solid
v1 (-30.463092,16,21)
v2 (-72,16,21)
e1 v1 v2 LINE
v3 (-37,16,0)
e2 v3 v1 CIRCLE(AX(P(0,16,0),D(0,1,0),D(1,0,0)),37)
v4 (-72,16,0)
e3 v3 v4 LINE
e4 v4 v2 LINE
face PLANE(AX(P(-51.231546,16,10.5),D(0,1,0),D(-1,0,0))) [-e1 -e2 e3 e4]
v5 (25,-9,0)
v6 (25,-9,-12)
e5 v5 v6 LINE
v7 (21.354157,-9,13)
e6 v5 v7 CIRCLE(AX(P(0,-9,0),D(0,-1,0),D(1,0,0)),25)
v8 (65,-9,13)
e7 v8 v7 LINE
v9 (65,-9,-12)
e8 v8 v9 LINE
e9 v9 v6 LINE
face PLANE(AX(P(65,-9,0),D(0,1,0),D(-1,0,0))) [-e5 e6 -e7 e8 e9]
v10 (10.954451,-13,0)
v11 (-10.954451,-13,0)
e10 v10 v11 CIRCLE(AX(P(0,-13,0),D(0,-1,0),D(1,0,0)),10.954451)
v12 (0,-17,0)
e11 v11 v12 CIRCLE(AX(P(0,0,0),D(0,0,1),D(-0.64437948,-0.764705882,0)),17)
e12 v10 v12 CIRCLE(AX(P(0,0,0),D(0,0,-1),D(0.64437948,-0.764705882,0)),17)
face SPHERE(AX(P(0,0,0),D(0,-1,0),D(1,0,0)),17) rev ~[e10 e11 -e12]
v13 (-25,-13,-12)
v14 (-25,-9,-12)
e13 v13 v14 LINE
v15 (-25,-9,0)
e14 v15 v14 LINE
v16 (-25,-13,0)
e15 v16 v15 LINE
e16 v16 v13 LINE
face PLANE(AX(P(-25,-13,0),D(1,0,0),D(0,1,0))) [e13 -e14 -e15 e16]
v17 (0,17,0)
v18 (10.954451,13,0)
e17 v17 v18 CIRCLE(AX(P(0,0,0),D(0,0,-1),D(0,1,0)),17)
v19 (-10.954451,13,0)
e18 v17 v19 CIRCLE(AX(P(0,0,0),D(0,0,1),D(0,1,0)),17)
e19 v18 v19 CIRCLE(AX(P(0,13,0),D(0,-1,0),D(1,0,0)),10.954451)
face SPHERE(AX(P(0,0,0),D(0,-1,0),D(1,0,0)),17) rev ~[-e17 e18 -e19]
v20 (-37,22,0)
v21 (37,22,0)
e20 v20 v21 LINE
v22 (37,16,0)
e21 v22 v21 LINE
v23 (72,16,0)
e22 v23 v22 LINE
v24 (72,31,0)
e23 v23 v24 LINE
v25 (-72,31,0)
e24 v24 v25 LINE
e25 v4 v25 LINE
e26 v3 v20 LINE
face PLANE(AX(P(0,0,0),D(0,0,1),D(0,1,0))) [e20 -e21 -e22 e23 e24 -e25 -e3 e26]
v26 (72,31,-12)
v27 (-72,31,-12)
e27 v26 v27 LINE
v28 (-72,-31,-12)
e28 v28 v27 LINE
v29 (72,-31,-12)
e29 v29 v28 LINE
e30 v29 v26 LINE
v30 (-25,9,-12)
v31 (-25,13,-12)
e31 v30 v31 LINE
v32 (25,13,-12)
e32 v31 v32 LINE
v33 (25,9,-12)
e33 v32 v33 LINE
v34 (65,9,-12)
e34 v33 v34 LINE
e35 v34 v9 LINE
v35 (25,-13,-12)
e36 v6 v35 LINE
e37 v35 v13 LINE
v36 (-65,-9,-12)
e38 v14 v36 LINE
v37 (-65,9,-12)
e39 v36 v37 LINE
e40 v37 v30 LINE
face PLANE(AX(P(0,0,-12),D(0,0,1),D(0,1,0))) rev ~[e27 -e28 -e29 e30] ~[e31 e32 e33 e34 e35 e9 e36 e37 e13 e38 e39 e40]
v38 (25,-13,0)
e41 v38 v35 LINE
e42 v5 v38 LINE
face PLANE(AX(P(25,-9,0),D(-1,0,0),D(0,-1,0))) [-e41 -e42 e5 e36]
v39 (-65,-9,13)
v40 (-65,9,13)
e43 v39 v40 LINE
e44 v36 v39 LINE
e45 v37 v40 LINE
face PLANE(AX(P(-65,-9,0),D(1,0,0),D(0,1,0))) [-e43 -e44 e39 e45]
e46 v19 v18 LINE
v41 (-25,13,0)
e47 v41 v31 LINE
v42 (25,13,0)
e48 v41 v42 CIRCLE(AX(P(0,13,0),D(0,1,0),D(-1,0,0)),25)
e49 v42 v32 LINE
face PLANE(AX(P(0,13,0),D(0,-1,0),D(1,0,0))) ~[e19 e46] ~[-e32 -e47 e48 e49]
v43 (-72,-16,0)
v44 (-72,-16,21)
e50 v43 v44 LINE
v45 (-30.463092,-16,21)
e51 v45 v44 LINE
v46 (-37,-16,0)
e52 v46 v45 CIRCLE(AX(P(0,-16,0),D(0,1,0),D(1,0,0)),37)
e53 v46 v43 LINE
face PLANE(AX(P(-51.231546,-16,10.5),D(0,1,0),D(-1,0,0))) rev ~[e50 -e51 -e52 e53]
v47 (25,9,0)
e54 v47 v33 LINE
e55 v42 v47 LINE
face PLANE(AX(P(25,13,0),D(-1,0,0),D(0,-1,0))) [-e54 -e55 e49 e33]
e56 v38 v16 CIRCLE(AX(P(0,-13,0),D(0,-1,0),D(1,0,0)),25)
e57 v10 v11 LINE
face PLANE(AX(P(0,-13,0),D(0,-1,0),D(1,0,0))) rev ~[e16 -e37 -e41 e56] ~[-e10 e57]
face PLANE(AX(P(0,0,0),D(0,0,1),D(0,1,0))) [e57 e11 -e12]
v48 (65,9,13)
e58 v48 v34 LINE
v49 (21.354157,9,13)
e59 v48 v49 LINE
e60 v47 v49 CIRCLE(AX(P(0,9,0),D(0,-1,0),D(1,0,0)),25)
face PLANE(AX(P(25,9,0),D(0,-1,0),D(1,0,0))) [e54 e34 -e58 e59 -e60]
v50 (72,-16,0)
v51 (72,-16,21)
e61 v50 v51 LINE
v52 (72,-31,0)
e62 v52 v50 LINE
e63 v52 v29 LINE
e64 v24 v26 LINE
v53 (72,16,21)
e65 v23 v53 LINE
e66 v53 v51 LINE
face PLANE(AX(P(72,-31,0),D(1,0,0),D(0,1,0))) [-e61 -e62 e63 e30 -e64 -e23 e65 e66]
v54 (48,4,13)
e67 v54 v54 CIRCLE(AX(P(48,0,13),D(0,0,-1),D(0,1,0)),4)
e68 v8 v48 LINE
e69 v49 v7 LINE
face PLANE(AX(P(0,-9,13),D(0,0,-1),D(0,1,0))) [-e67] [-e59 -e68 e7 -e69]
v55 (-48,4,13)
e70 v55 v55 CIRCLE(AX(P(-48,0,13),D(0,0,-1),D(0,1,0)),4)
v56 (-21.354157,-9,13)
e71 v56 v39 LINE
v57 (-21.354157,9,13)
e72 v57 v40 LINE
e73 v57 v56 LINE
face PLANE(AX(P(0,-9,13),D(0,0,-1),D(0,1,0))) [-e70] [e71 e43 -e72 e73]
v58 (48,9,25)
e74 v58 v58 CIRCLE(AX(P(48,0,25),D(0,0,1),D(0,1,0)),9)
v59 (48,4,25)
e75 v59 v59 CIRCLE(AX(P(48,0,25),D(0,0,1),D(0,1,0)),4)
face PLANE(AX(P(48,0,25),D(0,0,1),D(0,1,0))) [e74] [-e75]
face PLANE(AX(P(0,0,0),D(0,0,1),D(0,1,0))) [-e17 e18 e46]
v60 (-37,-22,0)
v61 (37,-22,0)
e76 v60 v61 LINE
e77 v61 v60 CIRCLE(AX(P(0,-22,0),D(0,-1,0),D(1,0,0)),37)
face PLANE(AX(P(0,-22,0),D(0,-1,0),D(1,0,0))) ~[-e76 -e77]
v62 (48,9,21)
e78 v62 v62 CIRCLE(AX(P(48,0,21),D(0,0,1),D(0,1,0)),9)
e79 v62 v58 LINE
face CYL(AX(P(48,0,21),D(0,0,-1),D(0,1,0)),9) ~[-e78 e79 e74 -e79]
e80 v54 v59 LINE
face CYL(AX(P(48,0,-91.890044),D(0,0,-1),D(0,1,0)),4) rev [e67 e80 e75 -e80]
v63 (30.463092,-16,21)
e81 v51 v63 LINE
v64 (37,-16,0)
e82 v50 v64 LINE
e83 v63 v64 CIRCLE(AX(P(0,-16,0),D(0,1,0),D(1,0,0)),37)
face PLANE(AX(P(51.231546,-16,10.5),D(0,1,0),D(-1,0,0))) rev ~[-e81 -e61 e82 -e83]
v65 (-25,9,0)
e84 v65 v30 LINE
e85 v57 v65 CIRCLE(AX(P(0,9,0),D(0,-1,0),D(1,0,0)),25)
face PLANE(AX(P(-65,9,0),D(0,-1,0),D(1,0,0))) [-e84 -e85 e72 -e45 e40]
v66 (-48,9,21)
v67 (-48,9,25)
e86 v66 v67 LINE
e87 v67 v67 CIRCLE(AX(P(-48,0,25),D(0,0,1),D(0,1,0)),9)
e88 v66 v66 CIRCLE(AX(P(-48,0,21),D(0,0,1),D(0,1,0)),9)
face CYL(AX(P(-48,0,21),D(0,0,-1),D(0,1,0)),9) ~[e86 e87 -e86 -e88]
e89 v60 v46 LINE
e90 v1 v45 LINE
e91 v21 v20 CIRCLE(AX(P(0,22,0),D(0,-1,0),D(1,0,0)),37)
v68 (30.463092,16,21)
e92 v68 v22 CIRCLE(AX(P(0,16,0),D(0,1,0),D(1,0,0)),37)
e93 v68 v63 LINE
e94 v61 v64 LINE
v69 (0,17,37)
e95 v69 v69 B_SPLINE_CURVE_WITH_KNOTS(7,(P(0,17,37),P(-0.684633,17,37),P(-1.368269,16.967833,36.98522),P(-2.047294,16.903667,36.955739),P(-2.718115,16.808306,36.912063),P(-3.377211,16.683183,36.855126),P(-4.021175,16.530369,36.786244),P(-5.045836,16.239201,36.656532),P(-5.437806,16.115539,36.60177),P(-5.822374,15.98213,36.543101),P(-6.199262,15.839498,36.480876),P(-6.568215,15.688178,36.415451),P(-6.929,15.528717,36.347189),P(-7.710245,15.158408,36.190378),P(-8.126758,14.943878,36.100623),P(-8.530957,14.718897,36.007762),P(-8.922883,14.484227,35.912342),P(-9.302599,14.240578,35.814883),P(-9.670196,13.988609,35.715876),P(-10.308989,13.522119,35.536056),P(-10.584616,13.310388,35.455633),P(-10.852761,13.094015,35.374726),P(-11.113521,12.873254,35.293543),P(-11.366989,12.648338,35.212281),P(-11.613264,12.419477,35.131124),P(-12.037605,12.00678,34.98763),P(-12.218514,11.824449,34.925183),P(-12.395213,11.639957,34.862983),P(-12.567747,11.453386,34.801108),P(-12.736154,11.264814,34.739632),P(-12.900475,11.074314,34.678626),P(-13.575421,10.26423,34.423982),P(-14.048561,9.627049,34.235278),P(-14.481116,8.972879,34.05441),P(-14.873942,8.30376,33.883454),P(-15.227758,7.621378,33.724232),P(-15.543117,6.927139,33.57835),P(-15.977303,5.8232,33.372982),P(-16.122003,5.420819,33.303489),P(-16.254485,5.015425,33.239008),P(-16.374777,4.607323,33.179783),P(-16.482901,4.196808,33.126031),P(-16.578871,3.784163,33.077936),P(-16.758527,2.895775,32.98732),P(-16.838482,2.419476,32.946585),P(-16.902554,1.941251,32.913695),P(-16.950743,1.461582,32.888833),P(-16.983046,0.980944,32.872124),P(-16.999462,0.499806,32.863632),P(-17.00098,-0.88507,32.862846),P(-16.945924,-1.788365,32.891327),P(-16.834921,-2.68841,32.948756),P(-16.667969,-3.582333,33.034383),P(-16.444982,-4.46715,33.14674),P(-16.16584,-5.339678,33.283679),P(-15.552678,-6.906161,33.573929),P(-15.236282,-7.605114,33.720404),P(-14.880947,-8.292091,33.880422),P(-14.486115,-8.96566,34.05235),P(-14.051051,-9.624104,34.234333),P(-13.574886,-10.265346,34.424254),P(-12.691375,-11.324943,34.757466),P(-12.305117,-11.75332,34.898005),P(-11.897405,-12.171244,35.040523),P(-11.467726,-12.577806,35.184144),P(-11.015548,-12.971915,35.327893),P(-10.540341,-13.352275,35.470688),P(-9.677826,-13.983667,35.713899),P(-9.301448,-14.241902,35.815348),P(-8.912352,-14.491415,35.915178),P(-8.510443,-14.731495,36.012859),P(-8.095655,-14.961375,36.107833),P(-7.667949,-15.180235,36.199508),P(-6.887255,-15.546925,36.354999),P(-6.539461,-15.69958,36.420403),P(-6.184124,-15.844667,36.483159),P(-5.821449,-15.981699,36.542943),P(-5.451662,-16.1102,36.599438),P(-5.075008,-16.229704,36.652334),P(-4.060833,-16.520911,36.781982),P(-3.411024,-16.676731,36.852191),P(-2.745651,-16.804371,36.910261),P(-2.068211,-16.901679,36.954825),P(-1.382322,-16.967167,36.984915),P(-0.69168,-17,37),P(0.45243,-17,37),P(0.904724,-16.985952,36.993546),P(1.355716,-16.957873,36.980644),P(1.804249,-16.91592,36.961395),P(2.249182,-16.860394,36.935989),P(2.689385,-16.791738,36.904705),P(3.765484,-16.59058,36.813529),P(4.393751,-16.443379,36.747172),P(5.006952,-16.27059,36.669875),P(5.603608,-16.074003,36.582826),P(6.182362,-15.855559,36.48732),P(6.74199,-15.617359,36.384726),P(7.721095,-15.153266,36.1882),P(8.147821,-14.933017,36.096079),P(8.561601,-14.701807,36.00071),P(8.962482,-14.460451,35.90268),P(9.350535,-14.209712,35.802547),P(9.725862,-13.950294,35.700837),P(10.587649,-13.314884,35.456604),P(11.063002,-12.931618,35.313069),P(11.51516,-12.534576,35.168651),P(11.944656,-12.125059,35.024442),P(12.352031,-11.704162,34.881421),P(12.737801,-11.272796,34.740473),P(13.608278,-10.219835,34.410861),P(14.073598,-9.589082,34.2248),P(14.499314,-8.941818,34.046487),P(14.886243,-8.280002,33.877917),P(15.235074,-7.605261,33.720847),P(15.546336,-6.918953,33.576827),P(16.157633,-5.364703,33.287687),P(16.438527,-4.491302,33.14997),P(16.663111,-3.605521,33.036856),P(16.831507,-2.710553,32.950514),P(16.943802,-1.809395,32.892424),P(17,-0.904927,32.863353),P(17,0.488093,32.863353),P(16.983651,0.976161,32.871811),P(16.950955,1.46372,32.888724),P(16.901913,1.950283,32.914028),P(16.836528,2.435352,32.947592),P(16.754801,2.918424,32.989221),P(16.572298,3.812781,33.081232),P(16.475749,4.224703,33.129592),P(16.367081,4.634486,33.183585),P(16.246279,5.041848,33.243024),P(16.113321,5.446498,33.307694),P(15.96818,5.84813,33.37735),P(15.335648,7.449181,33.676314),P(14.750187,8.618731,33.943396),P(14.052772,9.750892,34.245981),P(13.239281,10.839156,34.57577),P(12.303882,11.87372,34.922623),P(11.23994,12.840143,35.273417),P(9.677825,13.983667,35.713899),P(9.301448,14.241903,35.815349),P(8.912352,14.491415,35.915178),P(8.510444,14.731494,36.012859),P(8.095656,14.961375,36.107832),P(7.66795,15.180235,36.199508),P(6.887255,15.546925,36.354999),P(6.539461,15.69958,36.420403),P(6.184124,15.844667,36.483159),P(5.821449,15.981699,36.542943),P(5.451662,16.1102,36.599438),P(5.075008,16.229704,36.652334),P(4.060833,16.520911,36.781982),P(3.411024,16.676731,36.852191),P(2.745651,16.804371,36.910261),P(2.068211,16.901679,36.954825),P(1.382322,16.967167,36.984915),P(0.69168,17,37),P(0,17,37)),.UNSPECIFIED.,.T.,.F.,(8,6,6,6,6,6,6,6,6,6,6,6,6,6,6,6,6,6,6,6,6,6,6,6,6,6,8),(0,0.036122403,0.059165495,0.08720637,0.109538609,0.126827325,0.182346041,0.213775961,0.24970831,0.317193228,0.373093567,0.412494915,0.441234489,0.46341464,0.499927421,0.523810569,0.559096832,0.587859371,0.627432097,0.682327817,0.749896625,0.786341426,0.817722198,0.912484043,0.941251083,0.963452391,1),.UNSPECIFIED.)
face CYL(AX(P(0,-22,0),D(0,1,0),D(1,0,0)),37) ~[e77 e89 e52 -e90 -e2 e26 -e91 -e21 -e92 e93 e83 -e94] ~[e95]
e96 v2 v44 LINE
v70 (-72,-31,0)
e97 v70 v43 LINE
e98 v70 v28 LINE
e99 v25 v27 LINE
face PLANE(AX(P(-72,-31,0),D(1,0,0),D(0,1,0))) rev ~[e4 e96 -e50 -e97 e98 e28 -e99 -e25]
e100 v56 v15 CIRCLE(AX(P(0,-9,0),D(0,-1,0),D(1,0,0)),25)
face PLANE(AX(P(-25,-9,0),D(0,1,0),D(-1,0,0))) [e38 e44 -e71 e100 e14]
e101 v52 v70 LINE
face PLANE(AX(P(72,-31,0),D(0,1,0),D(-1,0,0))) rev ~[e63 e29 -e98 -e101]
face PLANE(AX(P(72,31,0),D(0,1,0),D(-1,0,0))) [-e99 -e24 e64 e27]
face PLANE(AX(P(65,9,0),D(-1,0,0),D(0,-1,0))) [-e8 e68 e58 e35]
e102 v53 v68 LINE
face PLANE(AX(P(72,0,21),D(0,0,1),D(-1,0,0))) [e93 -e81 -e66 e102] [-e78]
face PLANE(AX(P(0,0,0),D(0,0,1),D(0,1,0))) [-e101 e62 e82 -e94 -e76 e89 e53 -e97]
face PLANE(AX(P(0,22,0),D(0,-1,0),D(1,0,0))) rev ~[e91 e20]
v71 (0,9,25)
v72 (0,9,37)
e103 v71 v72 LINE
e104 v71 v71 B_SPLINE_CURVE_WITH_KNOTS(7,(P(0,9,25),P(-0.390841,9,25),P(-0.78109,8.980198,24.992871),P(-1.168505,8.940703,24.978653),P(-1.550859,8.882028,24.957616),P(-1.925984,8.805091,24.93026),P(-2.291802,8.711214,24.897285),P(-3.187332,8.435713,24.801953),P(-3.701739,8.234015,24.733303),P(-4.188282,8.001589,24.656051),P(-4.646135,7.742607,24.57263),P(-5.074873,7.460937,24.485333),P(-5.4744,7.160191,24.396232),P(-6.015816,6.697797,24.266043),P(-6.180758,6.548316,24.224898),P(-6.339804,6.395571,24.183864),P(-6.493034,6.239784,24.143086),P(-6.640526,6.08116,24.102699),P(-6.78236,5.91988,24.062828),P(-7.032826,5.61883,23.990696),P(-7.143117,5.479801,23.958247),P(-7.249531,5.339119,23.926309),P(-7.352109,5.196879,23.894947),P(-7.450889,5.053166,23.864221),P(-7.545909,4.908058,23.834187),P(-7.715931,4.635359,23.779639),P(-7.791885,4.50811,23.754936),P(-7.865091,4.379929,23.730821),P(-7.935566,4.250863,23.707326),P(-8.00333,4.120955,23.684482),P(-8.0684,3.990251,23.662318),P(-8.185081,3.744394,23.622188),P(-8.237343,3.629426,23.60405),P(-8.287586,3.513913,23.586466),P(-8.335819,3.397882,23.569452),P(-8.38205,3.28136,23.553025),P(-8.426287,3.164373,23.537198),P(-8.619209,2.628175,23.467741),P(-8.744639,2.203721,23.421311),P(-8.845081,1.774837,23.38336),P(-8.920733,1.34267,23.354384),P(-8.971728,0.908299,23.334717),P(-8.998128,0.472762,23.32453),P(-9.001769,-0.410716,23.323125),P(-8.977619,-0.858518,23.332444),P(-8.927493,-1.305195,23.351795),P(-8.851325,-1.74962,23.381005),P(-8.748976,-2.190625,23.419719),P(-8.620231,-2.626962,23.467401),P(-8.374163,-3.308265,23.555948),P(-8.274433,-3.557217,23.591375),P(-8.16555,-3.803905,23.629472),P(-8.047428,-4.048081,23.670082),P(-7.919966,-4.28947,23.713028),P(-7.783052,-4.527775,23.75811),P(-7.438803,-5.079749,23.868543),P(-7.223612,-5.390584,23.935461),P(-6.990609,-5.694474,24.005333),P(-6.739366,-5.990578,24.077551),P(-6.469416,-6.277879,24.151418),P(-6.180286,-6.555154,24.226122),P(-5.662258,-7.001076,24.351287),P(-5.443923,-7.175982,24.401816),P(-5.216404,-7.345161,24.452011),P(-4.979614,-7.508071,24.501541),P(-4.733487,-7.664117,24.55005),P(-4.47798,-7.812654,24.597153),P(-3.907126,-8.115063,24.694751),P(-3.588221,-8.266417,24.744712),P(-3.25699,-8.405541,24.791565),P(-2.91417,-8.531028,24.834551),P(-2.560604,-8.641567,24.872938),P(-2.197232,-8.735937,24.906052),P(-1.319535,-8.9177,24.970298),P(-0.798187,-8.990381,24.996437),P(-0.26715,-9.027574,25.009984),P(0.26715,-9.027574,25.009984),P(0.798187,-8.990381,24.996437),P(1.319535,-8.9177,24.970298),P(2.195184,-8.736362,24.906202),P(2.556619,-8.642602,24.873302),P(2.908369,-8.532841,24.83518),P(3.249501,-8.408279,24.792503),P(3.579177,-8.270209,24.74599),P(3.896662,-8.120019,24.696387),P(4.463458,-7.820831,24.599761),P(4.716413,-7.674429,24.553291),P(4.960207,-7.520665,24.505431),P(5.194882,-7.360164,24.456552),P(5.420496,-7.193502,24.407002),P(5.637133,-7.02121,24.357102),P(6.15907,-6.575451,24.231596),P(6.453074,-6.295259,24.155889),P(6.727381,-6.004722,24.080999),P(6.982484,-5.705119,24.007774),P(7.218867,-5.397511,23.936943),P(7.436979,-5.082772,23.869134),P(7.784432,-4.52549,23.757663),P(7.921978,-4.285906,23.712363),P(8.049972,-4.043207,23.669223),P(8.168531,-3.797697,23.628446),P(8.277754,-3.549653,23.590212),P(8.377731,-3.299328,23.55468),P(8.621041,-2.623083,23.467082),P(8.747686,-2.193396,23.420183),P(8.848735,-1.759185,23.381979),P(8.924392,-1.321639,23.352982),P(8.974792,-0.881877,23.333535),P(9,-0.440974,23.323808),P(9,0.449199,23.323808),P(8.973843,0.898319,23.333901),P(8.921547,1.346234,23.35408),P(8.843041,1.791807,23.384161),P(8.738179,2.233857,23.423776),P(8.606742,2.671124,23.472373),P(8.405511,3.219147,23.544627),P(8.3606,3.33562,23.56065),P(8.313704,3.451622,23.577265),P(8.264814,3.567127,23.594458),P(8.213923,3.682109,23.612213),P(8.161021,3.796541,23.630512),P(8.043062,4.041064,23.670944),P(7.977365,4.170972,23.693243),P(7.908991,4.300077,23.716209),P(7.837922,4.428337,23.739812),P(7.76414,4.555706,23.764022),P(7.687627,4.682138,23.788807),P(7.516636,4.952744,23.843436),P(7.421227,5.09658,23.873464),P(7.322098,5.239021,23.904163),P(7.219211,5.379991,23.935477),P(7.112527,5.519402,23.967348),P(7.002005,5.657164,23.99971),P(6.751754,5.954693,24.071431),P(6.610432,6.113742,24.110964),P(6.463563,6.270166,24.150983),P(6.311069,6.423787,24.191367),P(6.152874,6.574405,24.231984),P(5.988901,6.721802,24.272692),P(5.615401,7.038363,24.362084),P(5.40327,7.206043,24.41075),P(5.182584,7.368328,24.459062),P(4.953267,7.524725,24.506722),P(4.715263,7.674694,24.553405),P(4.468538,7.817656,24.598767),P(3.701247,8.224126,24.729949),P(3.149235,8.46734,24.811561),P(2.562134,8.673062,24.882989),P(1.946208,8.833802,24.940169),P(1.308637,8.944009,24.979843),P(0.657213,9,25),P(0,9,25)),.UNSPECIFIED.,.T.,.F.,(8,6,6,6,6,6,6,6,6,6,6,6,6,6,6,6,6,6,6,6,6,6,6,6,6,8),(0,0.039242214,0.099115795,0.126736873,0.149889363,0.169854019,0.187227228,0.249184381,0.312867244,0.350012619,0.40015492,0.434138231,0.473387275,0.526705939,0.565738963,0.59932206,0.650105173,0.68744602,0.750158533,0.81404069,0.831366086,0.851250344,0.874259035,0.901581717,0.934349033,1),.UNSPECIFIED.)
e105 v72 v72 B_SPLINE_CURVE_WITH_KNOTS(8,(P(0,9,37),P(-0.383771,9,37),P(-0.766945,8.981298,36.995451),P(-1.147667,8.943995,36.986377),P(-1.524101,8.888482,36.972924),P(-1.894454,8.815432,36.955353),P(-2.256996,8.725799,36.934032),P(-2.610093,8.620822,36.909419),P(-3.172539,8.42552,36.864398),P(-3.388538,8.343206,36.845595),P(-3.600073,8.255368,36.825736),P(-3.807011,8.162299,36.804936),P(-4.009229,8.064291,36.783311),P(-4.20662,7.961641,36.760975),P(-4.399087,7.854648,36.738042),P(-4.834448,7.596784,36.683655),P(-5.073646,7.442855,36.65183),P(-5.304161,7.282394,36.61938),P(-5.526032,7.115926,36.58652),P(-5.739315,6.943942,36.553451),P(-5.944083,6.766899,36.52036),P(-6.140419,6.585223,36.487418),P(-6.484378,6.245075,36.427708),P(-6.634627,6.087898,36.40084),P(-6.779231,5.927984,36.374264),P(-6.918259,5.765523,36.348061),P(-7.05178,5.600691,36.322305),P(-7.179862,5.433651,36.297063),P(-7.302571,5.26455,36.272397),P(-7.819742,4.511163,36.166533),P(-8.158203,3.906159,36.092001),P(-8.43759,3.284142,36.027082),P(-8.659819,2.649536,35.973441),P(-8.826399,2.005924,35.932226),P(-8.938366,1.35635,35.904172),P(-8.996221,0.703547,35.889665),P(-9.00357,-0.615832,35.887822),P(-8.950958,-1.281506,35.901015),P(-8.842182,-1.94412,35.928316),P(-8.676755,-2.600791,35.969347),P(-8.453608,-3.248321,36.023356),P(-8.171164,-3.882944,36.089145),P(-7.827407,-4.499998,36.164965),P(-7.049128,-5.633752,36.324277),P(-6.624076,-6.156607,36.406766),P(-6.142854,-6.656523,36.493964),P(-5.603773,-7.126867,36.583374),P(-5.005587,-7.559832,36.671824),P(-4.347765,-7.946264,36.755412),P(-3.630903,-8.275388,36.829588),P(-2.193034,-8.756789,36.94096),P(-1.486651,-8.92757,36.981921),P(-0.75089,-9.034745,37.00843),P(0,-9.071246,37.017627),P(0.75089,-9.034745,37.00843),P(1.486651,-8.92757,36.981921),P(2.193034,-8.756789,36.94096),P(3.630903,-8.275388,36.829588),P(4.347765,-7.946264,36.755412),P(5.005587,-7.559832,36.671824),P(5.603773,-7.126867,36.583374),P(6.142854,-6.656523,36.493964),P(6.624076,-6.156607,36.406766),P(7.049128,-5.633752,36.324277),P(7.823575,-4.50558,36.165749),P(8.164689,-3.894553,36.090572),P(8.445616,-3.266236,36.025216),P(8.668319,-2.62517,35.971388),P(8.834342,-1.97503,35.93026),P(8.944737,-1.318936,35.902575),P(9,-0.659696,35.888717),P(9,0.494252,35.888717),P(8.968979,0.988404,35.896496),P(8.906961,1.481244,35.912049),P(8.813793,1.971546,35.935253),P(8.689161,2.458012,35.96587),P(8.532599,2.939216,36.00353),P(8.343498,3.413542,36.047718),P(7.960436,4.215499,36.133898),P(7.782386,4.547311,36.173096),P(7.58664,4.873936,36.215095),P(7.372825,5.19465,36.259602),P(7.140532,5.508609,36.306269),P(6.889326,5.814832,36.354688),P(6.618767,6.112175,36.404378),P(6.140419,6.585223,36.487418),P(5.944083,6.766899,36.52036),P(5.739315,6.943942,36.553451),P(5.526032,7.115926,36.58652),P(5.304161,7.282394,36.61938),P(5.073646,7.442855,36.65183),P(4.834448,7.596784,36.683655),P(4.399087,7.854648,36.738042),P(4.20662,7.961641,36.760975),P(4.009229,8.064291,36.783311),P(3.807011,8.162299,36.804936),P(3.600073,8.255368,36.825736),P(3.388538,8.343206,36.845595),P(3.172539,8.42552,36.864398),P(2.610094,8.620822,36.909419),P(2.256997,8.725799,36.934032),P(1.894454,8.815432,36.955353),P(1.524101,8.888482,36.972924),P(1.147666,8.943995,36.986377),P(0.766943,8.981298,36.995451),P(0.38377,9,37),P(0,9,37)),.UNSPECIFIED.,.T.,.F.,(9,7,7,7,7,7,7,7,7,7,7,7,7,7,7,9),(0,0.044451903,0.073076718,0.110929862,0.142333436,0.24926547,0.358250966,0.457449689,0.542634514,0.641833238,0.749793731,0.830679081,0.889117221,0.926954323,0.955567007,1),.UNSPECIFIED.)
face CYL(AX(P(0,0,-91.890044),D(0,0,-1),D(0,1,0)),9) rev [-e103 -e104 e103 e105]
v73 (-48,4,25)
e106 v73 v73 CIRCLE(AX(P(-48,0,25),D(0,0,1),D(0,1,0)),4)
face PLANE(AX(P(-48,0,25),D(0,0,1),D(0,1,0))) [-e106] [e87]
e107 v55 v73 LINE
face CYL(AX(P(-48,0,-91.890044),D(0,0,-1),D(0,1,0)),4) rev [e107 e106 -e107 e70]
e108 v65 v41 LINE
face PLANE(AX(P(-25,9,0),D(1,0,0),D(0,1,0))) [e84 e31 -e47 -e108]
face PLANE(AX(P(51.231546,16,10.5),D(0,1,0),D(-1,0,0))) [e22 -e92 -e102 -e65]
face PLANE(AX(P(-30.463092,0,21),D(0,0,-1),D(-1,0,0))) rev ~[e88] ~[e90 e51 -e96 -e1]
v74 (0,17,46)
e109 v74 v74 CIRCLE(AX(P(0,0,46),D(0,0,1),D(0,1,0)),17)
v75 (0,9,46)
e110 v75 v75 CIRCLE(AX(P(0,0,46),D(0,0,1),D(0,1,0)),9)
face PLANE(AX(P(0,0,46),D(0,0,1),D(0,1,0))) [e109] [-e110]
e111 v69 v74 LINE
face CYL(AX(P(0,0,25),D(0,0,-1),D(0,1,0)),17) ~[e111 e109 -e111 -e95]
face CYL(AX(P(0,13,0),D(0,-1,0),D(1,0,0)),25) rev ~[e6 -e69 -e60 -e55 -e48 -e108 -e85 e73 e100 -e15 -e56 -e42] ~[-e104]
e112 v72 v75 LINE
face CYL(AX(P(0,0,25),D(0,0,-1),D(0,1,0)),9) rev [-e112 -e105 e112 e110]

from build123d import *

# Parameters (mm, degrees)
SKETCH1_W               = 62
SKETCH1_H               = 144
BOSS_EXTRUDE1_DEPTH     = 12
REVOLVE1_ANGLE          = 180
BOSS_EXTRUDE2_START     = 25
SKETCH1_4_R             = 17
SKETCH1_4_R_2           = 9
BOSS_EXTRUDE2_DEPTH     = 21
SKETCH2_W               = 41.536907577
SKETCH2_H               = 21
BOSS_EXTRUDE3_DEPTH     = 16
SKETCH3_W               = 18
SKETCH3_H               = 13
CUT_EXTRUDE2_DEPTH      = 65
BOSS_EXTRUDE4_START     = 21
SKETCH1_5_R             = 9
SKETCH1_5_R_2           = 4
BOSS_EXTRUDE4_DEPTH     = 4
CUT_EXTRUDE3_DEPTH      = 91.89004351
CUT_EXTRUDE3_DEPTH_BACK = 91.89004351
SKETCH1_6_R             = 9
SKETCH1_6_R_2           = 4


with BuildPart() as part:
    # Sketch1 → Boss-Extrude1 (new body)
    with BuildSketch(Plane(origin=(0, 0, 0), x_dir=(0, 1, 0), z_dir=(0, 0, 1))):
        Rectangle(SKETCH1_W, SKETCH1_H)
        Polygon((13, -25), (9, -25), (9, -65), (-9, -65), (-9, -25), (-13, -25), (-13, 25), (-9, 25), (-9, 65), (9, 65), (9, 25), (13, 25), align=None, mode=Mode.SUBTRACT)
    extrude(amount=-BOSS_EXTRUDE1_DEPTH)

    # Sketch1<3> → Revolve1 (revolve)
    with BuildSketch(Plane(origin=(0, 0, 0), x_dir=(0, 1, 0), z_dir=(0, 0, 1))):
        with BuildLine():
            Line((-22, 0), (-22, -37))
            Line((-22, -37), (22, -37))
            Line((22, -37), (22, 0))
            Line((22, 0), (17, 0))
            ThreePointArc((17, 0), (15.968719423, -5.830951895), (13, -10.95445115))
            Line((13, -10.95445115), (13, -25))
            Line((13, -25), (-13, -25))
            Line((-13, -25), (-13, -10.95445115))
            ThreePointArc((-13, -10.95445115), (-15.968719423, -5.830951895), (-17, 0))
            Line((-17, 0), (-22, 0))
        make_face()
    revolve(axis=Axis((0, -69.170626614, 0), (0, -1, 0)), revolution_arc=REVOLVE1_ANGLE)

    # Sketch1<4> → Boss-Extrude2 (add)
    with BuildSketch(Plane(origin=(0, 0, 0), x_dir=(0, 1, 0), z_dir=(0, 0, 1)).offset(BOSS_EXTRUDE2_START)):
        Circle(SKETCH1_4_R)
        Circle(SKETCH1_4_R_2, mode=Mode.SUBTRACT)
    extrude(amount=BOSS_EXTRUDE2_DEPTH)

    # Sketch2 → Boss-Extrude3 (add, symmetric)
    with BuildSketch(Plane(origin=(0, 0, 0), x_dir=(-1, 0, 0), z_dir=(0, 1, 0))):
        with Locations((-51.231546212, 10.5)):
            Rectangle(SKETCH2_W, SKETCH2_H)
        with Locations((51.231546212, 10.5)):
            Rectangle(SKETCH2_W, SKETCH2_H)
    extrude(amount=BOSS_EXTRUDE3_DEPTH, both=True)

    # Sketch3 → Cut-Extrude2 (cut, symmetric)
    with BuildSketch(Plane.YZ):
        with Locations((0, 6.5)):
            Rectangle(SKETCH3_W, SKETCH3_H)
    extrude(amount=CUT_EXTRUDE2_DEPTH, both=True, mode=Mode.SUBTRACT)

    # Sketch1<5> → Boss-Extrude4 (add)
    # profile 1 of 2: a face of its own
    with BuildSketch(Plane(origin=(0, 0, 0), x_dir=(0, 1, 0), z_dir=(0, 0, 1)).offset(BOSS_EXTRUDE4_START)):
        with Locations((0, -48)):
            Circle(SKETCH1_5_R)
        with Locations((0, -48)):
            Circle(SKETCH1_5_R_2, mode=Mode.SUBTRACT)
    # profile 2 of 2: a face of its own
    with BuildSketch(Plane(origin=(0, 0, 0), x_dir=(0, 1, 0), z_dir=(0, 0, 1)).offset(BOSS_EXTRUDE4_START)):
        with Locations((0, 48)):
            Circle(SKETCH1_5_R)
        with Locations((0, 48)):
            Circle(SKETCH1_5_R_2, mode=Mode.SUBTRACT)
    extrude(amount=BOSS_EXTRUDE4_DEPTH)

    # Sketch1<6> → Cut-Extrude3 (cut, two sides: drawn at the far end of the back side and taken through both)
    with BuildSketch(Plane(origin=(0, 0, 0), x_dir=(0, 1, 0), z_dir=(0, 0, 1)).offset(-CUT_EXTRUDE3_DEPTH_BACK)):
        Circle(SKETCH1_6_R)
        with Locations((0, 48)):
            Circle(SKETCH1_6_R_2)
        with Locations((0, -48)):
            Circle(SKETCH1_6_R_2)
    extrude(amount=CUT_EXTRUDE3_DEPTH + CUT_EXTRUDE3_DEPTH_BACK, mode=Mode.SUBTRACT)


solid = part.part
